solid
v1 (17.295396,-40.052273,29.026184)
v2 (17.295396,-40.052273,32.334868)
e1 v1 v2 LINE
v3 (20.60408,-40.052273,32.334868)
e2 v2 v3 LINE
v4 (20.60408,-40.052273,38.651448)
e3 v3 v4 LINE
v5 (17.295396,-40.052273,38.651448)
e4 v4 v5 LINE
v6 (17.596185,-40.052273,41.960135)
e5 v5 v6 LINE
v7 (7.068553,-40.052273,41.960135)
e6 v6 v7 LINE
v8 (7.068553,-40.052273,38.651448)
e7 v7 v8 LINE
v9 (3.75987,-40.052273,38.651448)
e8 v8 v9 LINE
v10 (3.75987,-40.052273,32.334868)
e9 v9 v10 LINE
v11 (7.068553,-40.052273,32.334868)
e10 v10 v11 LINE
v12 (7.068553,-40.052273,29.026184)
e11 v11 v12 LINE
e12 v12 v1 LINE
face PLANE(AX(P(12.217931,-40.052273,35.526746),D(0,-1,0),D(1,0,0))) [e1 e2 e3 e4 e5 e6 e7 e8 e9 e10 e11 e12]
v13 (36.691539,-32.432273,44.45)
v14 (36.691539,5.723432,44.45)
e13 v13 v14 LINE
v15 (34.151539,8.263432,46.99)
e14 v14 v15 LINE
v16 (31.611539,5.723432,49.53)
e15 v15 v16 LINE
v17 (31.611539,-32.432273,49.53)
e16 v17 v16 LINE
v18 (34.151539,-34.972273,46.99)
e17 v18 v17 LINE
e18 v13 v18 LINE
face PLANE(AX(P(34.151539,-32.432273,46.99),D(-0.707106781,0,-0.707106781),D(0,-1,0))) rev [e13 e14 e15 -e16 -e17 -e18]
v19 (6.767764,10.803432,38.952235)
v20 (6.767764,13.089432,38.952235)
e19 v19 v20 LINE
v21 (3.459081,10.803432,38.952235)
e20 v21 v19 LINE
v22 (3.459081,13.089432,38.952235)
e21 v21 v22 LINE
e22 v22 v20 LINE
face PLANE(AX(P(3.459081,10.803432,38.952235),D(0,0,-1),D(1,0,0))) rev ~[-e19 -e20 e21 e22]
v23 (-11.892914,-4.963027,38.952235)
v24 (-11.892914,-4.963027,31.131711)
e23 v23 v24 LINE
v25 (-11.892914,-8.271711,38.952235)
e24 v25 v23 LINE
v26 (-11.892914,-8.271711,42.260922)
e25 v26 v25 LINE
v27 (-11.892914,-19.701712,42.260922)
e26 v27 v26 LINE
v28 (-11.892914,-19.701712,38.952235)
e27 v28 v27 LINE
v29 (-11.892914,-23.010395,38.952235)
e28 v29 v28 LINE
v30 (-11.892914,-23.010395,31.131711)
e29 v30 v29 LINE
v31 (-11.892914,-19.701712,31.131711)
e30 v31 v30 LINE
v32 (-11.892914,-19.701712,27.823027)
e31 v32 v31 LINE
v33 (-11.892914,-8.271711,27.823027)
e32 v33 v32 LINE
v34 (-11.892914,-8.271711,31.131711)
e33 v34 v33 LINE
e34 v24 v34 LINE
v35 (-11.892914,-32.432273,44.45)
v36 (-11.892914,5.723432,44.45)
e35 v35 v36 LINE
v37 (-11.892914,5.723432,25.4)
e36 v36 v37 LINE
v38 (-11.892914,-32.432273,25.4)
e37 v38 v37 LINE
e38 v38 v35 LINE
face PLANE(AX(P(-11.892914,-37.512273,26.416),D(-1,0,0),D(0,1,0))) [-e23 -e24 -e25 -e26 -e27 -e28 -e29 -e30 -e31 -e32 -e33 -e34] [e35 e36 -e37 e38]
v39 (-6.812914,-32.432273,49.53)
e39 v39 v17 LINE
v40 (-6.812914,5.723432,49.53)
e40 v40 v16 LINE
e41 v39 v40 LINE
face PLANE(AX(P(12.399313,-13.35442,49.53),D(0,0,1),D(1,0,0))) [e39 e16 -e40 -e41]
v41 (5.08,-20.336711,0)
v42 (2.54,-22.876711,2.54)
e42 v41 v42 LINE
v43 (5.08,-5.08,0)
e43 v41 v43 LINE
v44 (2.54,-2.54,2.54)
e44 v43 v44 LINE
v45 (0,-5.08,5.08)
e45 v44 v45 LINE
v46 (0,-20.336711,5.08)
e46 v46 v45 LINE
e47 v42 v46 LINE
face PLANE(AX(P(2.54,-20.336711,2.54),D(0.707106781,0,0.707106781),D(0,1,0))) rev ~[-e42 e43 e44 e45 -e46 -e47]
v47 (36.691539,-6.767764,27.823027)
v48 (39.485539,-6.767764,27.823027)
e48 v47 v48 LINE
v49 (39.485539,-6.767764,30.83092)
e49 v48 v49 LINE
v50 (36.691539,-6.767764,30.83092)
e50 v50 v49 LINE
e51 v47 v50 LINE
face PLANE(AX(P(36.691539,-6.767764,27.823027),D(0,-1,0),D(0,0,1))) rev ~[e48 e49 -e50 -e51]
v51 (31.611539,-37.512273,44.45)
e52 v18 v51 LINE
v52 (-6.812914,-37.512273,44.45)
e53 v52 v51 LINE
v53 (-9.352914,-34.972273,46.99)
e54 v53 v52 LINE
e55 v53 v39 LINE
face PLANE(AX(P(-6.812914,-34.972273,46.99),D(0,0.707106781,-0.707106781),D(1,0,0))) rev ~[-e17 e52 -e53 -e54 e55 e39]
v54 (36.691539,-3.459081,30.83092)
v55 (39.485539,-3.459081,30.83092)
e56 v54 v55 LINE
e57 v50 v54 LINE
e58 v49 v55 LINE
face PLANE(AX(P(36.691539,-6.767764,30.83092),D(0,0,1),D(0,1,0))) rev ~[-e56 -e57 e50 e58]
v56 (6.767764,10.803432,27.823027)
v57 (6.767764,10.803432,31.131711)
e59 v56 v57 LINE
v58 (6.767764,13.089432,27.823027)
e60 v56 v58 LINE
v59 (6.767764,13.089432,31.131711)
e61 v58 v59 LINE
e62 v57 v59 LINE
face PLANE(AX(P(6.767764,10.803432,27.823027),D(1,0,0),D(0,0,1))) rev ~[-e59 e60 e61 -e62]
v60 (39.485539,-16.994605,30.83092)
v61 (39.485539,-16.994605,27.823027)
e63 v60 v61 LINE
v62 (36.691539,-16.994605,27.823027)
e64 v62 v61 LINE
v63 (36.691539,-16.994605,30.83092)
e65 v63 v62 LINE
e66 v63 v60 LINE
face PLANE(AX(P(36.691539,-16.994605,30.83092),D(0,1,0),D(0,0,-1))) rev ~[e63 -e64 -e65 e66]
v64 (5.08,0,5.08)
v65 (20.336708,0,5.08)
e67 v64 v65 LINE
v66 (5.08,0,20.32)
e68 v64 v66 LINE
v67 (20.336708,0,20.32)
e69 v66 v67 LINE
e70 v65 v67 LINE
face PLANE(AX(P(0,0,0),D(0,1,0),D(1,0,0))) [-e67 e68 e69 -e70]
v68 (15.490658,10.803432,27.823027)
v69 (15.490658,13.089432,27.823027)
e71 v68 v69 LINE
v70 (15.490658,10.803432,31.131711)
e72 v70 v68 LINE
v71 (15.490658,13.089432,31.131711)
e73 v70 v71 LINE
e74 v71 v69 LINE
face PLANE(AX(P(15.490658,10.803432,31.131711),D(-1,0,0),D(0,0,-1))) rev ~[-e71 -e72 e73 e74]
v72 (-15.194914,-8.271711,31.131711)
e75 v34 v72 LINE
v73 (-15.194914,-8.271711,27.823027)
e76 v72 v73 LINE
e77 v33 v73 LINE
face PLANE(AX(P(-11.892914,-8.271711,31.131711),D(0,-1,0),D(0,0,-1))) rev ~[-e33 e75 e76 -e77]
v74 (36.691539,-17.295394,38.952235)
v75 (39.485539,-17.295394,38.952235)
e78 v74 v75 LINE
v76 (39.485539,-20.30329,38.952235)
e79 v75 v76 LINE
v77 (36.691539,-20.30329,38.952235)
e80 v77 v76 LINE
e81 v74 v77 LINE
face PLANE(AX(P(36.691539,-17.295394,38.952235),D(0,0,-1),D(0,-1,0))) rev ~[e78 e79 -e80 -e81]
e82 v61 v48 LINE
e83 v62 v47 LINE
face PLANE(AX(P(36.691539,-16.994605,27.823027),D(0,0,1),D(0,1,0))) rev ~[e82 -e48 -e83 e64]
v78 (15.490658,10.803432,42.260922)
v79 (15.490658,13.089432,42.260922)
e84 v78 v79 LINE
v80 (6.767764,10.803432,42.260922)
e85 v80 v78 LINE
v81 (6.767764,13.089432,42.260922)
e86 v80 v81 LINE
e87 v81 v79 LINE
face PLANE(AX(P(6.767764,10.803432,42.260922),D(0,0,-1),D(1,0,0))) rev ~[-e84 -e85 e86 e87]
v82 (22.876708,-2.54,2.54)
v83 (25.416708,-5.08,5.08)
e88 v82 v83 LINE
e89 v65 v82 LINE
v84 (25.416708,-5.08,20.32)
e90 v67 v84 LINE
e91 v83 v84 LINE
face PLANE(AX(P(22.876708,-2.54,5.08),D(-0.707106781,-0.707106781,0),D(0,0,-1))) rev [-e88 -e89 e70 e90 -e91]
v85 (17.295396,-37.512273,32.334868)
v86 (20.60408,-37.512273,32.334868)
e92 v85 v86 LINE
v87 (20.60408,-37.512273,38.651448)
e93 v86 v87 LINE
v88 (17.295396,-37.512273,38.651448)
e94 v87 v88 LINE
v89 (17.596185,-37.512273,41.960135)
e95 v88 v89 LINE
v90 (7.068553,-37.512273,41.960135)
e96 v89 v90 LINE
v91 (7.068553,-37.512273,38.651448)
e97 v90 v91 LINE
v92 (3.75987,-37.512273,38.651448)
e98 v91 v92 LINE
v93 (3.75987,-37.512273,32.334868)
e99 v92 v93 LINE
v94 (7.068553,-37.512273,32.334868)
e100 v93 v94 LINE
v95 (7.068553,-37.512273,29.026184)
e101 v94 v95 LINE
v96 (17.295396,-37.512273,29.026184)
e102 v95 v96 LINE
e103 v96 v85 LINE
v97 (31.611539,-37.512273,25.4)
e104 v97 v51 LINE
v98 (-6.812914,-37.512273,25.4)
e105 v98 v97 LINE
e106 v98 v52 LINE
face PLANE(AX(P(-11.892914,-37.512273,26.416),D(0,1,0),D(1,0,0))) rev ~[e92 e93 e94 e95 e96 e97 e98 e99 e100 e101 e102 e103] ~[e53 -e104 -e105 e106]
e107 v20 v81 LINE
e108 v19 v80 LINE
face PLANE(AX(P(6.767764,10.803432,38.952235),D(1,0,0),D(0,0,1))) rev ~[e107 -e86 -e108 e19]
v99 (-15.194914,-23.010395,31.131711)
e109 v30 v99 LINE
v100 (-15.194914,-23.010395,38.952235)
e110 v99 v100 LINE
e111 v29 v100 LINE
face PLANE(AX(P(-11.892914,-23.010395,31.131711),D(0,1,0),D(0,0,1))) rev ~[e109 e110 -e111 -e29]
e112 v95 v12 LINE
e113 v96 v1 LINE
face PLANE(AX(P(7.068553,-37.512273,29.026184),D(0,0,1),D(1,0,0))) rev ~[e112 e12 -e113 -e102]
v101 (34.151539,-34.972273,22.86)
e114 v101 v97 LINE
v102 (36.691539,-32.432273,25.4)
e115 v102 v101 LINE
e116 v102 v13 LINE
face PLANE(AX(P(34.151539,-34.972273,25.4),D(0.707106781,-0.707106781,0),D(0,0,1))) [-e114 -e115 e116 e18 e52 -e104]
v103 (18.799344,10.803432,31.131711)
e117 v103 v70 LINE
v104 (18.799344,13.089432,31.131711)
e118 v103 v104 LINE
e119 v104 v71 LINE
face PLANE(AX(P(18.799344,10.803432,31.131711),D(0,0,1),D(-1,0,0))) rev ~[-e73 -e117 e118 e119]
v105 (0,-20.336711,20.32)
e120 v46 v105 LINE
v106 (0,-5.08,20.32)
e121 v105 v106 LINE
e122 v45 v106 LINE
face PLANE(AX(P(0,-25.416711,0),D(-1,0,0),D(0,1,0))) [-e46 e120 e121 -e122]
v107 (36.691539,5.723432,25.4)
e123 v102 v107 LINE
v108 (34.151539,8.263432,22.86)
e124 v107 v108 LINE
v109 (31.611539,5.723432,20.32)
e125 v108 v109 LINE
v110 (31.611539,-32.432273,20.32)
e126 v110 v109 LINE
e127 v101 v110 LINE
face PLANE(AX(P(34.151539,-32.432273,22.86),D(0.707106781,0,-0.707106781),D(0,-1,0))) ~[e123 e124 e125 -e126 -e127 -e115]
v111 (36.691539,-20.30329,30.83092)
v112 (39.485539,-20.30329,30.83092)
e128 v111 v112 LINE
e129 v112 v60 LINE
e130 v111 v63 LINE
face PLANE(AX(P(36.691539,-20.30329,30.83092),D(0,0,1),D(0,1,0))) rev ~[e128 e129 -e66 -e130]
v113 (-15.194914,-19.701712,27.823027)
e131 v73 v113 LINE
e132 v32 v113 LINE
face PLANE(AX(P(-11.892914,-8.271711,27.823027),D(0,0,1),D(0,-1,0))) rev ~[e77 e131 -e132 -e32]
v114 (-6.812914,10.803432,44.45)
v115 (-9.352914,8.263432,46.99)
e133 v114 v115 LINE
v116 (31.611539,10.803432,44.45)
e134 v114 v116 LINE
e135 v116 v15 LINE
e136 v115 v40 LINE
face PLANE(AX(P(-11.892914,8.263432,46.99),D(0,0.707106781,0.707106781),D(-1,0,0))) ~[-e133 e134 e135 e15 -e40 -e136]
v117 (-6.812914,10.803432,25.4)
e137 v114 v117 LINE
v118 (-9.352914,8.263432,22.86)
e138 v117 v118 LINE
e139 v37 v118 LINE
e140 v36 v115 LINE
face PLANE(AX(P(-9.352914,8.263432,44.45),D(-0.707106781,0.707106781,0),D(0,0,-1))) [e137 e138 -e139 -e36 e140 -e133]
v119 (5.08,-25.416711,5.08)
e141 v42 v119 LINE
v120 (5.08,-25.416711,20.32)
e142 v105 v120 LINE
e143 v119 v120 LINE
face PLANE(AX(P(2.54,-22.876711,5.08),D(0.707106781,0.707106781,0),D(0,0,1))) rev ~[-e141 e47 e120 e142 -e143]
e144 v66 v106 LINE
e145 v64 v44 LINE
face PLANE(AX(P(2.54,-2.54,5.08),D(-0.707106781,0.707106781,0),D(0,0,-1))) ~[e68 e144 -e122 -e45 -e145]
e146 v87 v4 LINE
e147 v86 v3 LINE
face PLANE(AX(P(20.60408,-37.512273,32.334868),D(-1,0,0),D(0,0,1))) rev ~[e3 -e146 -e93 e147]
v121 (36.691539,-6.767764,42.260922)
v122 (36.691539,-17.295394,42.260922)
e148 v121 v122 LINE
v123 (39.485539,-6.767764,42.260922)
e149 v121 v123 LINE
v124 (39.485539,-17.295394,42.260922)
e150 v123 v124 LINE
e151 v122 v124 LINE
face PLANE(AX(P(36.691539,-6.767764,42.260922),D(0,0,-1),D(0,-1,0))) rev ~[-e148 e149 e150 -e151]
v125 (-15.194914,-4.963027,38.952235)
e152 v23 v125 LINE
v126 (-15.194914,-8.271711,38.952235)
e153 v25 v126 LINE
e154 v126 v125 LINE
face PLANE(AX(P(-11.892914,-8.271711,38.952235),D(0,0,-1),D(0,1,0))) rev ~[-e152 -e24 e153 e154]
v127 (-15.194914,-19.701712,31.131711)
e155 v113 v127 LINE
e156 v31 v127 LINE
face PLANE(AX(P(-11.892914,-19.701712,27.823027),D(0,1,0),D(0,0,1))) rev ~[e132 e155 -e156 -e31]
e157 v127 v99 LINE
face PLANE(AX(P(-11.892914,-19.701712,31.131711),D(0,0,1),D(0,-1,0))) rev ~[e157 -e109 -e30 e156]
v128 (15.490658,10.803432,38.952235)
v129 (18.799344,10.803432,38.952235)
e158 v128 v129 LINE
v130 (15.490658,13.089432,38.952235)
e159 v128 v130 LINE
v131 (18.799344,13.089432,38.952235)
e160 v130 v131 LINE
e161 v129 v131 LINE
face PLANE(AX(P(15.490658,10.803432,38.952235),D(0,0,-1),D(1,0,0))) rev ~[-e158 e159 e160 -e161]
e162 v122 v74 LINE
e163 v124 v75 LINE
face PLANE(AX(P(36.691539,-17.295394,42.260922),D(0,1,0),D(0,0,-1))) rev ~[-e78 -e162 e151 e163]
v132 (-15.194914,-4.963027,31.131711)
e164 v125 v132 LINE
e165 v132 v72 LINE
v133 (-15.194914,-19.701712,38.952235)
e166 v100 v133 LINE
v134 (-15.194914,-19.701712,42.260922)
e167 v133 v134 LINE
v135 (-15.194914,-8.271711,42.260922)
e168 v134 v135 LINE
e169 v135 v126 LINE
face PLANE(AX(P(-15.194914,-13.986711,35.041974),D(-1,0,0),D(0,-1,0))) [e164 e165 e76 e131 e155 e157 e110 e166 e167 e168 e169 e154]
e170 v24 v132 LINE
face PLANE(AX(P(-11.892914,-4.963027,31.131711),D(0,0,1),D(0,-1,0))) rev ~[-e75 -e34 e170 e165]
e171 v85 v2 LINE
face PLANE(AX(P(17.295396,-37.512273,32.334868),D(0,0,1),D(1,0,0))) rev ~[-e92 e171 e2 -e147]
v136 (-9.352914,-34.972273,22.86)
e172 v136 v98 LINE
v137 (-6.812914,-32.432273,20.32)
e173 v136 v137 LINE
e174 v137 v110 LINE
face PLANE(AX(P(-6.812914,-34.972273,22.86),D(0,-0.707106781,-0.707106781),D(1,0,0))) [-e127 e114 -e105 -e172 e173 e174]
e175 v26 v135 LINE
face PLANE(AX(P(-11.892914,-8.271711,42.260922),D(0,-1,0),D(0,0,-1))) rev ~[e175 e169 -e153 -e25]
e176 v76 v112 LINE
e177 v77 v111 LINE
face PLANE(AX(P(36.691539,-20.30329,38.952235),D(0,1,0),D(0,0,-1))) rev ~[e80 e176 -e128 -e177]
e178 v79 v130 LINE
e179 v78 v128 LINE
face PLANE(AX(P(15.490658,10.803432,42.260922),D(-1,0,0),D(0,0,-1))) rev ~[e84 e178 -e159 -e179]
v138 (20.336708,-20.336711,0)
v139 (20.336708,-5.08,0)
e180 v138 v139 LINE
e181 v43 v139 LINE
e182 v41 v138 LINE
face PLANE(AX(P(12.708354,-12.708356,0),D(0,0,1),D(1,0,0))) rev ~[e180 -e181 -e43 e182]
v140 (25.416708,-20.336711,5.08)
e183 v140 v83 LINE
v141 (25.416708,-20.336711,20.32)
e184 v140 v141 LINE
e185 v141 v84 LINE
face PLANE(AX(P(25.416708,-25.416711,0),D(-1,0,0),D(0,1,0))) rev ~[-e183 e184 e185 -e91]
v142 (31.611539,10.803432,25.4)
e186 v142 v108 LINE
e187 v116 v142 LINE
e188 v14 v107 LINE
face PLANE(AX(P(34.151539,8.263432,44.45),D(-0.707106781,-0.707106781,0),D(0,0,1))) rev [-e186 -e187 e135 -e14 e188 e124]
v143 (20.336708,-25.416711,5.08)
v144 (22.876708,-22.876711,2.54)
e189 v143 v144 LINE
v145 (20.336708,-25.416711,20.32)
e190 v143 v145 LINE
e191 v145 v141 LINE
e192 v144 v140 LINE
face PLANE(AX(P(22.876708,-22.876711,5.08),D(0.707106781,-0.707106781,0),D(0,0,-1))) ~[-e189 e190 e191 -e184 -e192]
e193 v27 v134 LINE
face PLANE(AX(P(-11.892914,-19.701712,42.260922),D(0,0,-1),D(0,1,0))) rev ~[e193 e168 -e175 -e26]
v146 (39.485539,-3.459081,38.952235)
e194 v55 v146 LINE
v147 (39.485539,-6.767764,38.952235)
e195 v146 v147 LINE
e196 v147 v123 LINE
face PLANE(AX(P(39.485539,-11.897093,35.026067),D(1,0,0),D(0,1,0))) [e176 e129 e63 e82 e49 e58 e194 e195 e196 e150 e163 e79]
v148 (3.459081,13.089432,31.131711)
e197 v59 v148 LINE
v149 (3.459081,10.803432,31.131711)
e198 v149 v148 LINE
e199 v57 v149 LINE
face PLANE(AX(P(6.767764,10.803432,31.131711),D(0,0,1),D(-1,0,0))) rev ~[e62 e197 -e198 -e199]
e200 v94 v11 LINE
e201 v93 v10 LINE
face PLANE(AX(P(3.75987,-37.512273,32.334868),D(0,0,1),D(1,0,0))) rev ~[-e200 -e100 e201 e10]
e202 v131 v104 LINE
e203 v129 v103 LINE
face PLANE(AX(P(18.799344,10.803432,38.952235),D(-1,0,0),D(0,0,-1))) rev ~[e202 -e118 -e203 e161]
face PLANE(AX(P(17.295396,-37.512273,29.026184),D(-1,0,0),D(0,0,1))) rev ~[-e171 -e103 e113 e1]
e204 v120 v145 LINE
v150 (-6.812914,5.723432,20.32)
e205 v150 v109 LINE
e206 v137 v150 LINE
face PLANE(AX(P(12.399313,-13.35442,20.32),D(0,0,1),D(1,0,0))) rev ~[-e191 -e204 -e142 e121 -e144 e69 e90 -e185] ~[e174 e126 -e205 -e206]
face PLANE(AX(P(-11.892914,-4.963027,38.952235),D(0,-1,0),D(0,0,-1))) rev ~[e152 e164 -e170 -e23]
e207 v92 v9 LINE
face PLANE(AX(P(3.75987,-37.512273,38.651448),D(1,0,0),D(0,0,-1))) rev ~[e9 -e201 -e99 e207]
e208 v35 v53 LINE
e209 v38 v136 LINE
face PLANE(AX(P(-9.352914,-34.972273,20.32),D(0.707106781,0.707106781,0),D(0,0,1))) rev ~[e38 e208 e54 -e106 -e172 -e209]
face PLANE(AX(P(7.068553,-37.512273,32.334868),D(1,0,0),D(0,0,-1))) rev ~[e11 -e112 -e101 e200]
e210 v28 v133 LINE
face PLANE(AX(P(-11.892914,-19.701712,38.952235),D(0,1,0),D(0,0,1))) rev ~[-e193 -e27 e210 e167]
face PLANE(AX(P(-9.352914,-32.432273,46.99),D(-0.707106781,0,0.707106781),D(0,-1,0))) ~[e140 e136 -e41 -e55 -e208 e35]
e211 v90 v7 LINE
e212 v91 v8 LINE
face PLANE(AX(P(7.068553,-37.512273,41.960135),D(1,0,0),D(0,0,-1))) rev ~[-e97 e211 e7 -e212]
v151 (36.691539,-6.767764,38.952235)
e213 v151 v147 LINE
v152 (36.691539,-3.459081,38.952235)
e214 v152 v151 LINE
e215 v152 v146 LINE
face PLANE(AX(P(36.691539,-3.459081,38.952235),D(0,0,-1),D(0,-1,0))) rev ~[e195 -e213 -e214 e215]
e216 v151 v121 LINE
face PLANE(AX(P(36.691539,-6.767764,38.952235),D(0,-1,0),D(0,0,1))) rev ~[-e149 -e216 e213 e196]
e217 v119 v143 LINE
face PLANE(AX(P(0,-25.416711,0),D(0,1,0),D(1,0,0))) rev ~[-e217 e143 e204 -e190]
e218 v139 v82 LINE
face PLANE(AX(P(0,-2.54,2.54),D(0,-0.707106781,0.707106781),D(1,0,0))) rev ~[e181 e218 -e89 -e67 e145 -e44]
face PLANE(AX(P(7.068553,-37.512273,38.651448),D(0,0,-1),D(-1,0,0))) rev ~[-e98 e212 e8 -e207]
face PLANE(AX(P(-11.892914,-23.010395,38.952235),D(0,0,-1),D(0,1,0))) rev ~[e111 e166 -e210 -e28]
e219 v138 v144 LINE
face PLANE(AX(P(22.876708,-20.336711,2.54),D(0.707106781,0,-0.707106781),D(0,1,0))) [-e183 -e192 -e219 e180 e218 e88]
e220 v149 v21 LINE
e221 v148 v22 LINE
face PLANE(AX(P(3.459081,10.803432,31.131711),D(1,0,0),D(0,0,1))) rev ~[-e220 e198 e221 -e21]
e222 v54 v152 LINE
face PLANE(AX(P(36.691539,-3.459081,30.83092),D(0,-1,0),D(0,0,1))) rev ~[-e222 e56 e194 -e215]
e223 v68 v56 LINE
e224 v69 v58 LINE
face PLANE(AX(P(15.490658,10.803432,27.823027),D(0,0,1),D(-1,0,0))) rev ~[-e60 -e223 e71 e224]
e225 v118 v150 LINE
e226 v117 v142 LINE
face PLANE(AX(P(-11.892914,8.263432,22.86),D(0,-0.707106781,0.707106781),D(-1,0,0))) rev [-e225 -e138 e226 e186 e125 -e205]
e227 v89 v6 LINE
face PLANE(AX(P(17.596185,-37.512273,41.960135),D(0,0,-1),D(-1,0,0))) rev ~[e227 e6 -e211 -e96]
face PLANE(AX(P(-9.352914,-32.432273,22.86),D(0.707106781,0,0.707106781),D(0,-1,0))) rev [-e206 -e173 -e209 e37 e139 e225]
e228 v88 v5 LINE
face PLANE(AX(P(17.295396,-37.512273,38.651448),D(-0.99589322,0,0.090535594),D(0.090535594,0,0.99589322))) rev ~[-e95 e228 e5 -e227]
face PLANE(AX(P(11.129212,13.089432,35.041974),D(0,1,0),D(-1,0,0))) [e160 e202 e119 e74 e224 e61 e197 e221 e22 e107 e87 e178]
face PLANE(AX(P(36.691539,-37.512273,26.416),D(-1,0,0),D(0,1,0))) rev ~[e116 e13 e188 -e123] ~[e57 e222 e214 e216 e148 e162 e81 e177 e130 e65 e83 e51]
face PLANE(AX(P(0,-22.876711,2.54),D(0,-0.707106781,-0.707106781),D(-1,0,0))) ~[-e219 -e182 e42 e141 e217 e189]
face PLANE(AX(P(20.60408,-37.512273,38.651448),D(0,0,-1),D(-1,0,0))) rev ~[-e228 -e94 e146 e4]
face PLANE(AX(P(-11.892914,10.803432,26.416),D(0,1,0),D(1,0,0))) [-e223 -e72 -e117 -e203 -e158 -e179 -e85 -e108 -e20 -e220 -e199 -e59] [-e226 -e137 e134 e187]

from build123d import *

# Parameters (mm, degrees)
F0_W      = 25.41670762
F0_H      = 25.4167113453
F1_DEPTH  = 26.416
F2_SIZE   = 5.08
F3_SIZE   = 5.08
F4_SIZE   = 5.08
F5_SIZE   = 5.08
F6_SIZE   = 5.08
F7_SIZE   = 5.08
F8_SIZE   = 5.08
F9_SIZE   = 5.08
F10_SIZE  = 5.08
F11_SIZE  = 5.08
F12_SIZE  = 5.08
F13_SIZE  = 5.08
F14_W     = 48.5844528303
F14_H     = 48.3157048002
F15_DEPTH = 6.096
F16_DEPTH = 23.114
F17_SIZE  = 5.08
F18_SIZE  = 5.08
F19_SIZE  = 5.08
F20_SIZE  = 5.08
F21_SIZE  = 5.08
F22_SIZE  = 5.08
F23_SIZE  = 5.08
F24_SIZE  = 5.08
F25_SIZE  = 5.08
F26_SIZE  = 5.08
F27_SIZE  = 5.08
F29_DEPTH = 2.54
F31_DEPTH = 2.286
F33_DEPTH = 2.794
F35_DEPTH = 3.302


with BuildPart() as f1:
    # F0 (on Top) → F1 (new body)
    with BuildSketch(Plane.XY):
        with Locations((12.70835381, -12.7083556727)):
            Rectangle(F0_W, F0_H)
    extrude(amount=F1_DEPTH)

    # F2
    f2_edges = [f1.edges().sort_by_distance(p)[0] for p in [
        (12.708354, -25.416711, 0),
    ]]
    chamfer(f2_edges, length=F2_SIZE)

    # F3
    f3_edges = [f1.edges().sort_by_distance(p)[0] for p in [
        (12.708354, 0, 0),
    ]]
    chamfer(f3_edges, length=F3_SIZE)

    # F4
    f4_edges = [f1.edges().sort_by_distance(p)[0] for p in [
        (12.708354, 0, 26.416),
    ]]
    chamfer(f4_edges, length=F4_SIZE)

    # F5
    f5_edges = [f1.edges().sort_by_distance(p)[0] for p in [
        (12.708354, -25.416711, 26.416),
    ]]
    chamfer(f5_edges, length=F5_SIZE)

    # F6
    f6_edges = [f1.edges().sort_by_distance(p)[0] for p in [
        (25.416708, 0, 13.208),
    ]]
    chamfer(f6_edges, length=F6_SIZE)

    # F7
    f7_edges = [f1.edges().sort_by_distance(p)[0] for p in [
        (0, 0, 13.208),
    ]]
    chamfer(f7_edges, length=F7_SIZE)

    # F8
    f8_edges = [f1.edges().sort_by_distance(p)[0] for p in [
        (0, -25.416711, 13.208),
    ]]
    chamfer(f8_edges, length=F8_SIZE)

    # F9
    f9_edges = [f1.edges().sort_by_distance(p)[0] for p in [
        (25.416708, -25.416711, 13.208),
    ]]
    chamfer(f9_edges, length=F9_SIZE)

    # F10
    f10_edges = [f1.edges().sort_by_distance(p)[0] for p in [
        (25.416708, -12.708356, 0),
    ]]
    chamfer(f10_edges, length=F10_SIZE)

    # F11
    f11_edges = [f1.edges().sort_by_distance(p)[0] for p in [
        (25.416708, -12.708356, 26.416),
    ]]
    chamfer(f11_edges, length=F11_SIZE)

    # F12
    f12_edges = [f1.edges().sort_by_distance(p)[0] for p in [
        (0, -12.708356, 0),
    ]]
    chamfer(f12_edges, length=F12_SIZE)

    # F13
    f13_edges = [f1.edges().sort_by_distance(p)[0] for p in [
        (0, -12.708356, 26.416),
    ]]
    chamfer(f13_edges, length=F13_SIZE)

    # F14 (on face) → F15 (join)
    with BuildSketch(Plane.XY.offset(26.416)):
        with Locations((12.3993125744, -13.3544201963)):
            Rectangle(F14_W, F14_H)
    extrude(amount=-F15_DEPTH)

    # F16 (add): a face of the model
    f16_faces = [f1.faces().sort_by_distance(p)[0] for p in [
        (12.3993125744, -13.3544201963, 26.416),
    ]]
    extrude(f16_faces, amount=F16_DEPTH)

    # F17
    f17_edges = [f1.edges().sort_by_distance(p)[0] for p in [
        (-11.892914, -37.512273, 34.925),
    ]]
    chamfer(f17_edges, length=F17_SIZE)

    # F18
    f18_edges = [f1.edges().sort_by_distance(p)[0] for p in [
        (14.939313, -37.512273, 49.53),
        (14.939313, -37.512273, 20.32),
    ]]
    chamfer(f18_edges, length=F18_SIZE)

    # F19
    f19_edges = [f1.edges().sort_by_distance(p)[0] for p in [
        (36.691539, -37.512273, 34.925),
    ]]
    chamfer(f19_edges, length=F19_SIZE)

    # F20
    f20_edges = [f1.edges().sort_by_distance(p)[0] for p in [
        (36.691539, -10.81442, 49.53),
    ]]
    chamfer(f20_edges, length=F20_SIZE)

    # F21
    f21_edges = [f1.edges().sort_by_distance(p)[0] for p in [
        (36.691539, -10.81442, 20.32),
    ]]
    chamfer(f21_edges, length=F21_SIZE)

    # F22
    f22_edges = [f1.edges().sort_by_distance(p)[0] for p in [
        (36.691539, 10.803432, 34.925),
    ]]
    chamfer(f22_edges, length=F22_SIZE)

    # F23
    f23_edges = [f1.edges().sort_by_distance(p)[0] for p in [
        (9.859313, 10.803432, 49.53),
    ]]
    chamfer(f23_edges, length=F23_SIZE)

    # F24
    f24_edges = [f1.edges().sort_by_distance(p)[0] for p in [
        (9.859313, 10.803432, 20.32),
    ]]
    chamfer(f24_edges, length=F24_SIZE)

    # F25
    f25_edges = [f1.edges().sort_by_distance(p)[0] for p in [
        (-11.892914, 10.803432, 34.925),
    ]]
    chamfer(f25_edges, length=F25_SIZE)

    # F26
    f26_edges = [f1.edges().sort_by_distance(p)[0] for p in [
        (-11.892914, -13.35442, 49.53),
    ]]
    chamfer(f26_edges, length=F26_SIZE)

    # F27
    f27_edges = [f1.edges().sort_by_distance(p)[0] for p in [
        (-11.892914, -13.35442, 20.32),
    ]]
    chamfer(f27_edges, length=F27_SIZE)

    # F28 (on face) → F29 (join)
    with BuildSketch(Plane.XZ.offset(37.5122725964)):
        Polygon((17.5961852074, 41.9601351023), (7.0685530081, 41.9601351023), (7.0685530081, 38.6514477432), (3.7598696072, 38.6514477432), (3.7598696072, 32.3348678648), (7.0685530081, 32.3348678648), (7.0685530081, 29.026184231), (17.2953959554, 29.026184231), (17.2953959554, 32.3348678648), (20.6040795892, 32.3348678648), (20.6040795892, 38.6514477432), (17.2953959554, 38.6514477432), align=None)
    extrude(amount=F29_DEPTH)

    # F30 (on face) → F31 (join)
    with BuildSketch(Plane(origin=(0, 10.8034322038, 0), x_dir=(-1, 0, 0), z_dir=(0, 1, 0))):
        Polygon((-6.7677642219, 38.9522351325), (-6.7677642219, 42.2609224916), (-15.4906576499, 42.2609224916), (-15.4906576499, 38.9522351325), (-18.7993440777, 38.9522351325), (-18.7993440777, 31.1317108572), (-15.4906576499, 31.1317108572), (-15.4906576499, 27.8230272233), (-6.7677642219, 27.8230272233), (-6.7677642219, 31.1317108572), (-3.4590810537, 31.1317108572), (-3.4590810537, 38.9522351325), align=None)
    extrude(amount=F31_DEPTH)

    # F32 (on face) → F33 (join)
    with BuildSketch(Plane.YZ.offset(36.6915389895)):
        Polygon((-6.7677642219, 38.9522351325), (-6.7677642219, 42.2609224916), (-17.2953940928, 42.2609224916), (-17.2953940928, 38.9522351325), (-20.3032903373, 38.9522351325), (-20.3032903373, 30.8309197426), (-16.9946048409, 30.8309197426), (-16.9946048409, 27.8230272233), (-6.7677642219, 27.8230272233), (-6.7677642219, 30.8309197426), (-3.4590810537, 30.8309197426), (-3.4590810537, 38.9522351325), align=None)
    extrude(amount=F33_DEPTH)

    # F34 (on face) → F35 (join)
    with BuildSketch(Plane(origin=(-11.8929138407, 0, 0), x_dir=(0, -1, 0), z_dir=(-1, 0, 0))):
        Polygon((19.7017118335, 42.2609224916), (8.2717109472, 42.2609224916), (8.2717109472, 38.9522351325), (4.9630273134, 38.9522351325), (4.9630273134, 31.1317108572), (8.2717109472, 31.1317108572), (8.2717109472, 27.8230272233), (19.7017118335, 27.8230272233), (19.7017118335, 31.1317108572), (23.0103954673, 31.1317108572), (23.0103954673, 38.9522351325), (19.7017118335, 38.9522351325), align=None)
    extrude(amount=F35_DEPTH)


solid = f1.part
